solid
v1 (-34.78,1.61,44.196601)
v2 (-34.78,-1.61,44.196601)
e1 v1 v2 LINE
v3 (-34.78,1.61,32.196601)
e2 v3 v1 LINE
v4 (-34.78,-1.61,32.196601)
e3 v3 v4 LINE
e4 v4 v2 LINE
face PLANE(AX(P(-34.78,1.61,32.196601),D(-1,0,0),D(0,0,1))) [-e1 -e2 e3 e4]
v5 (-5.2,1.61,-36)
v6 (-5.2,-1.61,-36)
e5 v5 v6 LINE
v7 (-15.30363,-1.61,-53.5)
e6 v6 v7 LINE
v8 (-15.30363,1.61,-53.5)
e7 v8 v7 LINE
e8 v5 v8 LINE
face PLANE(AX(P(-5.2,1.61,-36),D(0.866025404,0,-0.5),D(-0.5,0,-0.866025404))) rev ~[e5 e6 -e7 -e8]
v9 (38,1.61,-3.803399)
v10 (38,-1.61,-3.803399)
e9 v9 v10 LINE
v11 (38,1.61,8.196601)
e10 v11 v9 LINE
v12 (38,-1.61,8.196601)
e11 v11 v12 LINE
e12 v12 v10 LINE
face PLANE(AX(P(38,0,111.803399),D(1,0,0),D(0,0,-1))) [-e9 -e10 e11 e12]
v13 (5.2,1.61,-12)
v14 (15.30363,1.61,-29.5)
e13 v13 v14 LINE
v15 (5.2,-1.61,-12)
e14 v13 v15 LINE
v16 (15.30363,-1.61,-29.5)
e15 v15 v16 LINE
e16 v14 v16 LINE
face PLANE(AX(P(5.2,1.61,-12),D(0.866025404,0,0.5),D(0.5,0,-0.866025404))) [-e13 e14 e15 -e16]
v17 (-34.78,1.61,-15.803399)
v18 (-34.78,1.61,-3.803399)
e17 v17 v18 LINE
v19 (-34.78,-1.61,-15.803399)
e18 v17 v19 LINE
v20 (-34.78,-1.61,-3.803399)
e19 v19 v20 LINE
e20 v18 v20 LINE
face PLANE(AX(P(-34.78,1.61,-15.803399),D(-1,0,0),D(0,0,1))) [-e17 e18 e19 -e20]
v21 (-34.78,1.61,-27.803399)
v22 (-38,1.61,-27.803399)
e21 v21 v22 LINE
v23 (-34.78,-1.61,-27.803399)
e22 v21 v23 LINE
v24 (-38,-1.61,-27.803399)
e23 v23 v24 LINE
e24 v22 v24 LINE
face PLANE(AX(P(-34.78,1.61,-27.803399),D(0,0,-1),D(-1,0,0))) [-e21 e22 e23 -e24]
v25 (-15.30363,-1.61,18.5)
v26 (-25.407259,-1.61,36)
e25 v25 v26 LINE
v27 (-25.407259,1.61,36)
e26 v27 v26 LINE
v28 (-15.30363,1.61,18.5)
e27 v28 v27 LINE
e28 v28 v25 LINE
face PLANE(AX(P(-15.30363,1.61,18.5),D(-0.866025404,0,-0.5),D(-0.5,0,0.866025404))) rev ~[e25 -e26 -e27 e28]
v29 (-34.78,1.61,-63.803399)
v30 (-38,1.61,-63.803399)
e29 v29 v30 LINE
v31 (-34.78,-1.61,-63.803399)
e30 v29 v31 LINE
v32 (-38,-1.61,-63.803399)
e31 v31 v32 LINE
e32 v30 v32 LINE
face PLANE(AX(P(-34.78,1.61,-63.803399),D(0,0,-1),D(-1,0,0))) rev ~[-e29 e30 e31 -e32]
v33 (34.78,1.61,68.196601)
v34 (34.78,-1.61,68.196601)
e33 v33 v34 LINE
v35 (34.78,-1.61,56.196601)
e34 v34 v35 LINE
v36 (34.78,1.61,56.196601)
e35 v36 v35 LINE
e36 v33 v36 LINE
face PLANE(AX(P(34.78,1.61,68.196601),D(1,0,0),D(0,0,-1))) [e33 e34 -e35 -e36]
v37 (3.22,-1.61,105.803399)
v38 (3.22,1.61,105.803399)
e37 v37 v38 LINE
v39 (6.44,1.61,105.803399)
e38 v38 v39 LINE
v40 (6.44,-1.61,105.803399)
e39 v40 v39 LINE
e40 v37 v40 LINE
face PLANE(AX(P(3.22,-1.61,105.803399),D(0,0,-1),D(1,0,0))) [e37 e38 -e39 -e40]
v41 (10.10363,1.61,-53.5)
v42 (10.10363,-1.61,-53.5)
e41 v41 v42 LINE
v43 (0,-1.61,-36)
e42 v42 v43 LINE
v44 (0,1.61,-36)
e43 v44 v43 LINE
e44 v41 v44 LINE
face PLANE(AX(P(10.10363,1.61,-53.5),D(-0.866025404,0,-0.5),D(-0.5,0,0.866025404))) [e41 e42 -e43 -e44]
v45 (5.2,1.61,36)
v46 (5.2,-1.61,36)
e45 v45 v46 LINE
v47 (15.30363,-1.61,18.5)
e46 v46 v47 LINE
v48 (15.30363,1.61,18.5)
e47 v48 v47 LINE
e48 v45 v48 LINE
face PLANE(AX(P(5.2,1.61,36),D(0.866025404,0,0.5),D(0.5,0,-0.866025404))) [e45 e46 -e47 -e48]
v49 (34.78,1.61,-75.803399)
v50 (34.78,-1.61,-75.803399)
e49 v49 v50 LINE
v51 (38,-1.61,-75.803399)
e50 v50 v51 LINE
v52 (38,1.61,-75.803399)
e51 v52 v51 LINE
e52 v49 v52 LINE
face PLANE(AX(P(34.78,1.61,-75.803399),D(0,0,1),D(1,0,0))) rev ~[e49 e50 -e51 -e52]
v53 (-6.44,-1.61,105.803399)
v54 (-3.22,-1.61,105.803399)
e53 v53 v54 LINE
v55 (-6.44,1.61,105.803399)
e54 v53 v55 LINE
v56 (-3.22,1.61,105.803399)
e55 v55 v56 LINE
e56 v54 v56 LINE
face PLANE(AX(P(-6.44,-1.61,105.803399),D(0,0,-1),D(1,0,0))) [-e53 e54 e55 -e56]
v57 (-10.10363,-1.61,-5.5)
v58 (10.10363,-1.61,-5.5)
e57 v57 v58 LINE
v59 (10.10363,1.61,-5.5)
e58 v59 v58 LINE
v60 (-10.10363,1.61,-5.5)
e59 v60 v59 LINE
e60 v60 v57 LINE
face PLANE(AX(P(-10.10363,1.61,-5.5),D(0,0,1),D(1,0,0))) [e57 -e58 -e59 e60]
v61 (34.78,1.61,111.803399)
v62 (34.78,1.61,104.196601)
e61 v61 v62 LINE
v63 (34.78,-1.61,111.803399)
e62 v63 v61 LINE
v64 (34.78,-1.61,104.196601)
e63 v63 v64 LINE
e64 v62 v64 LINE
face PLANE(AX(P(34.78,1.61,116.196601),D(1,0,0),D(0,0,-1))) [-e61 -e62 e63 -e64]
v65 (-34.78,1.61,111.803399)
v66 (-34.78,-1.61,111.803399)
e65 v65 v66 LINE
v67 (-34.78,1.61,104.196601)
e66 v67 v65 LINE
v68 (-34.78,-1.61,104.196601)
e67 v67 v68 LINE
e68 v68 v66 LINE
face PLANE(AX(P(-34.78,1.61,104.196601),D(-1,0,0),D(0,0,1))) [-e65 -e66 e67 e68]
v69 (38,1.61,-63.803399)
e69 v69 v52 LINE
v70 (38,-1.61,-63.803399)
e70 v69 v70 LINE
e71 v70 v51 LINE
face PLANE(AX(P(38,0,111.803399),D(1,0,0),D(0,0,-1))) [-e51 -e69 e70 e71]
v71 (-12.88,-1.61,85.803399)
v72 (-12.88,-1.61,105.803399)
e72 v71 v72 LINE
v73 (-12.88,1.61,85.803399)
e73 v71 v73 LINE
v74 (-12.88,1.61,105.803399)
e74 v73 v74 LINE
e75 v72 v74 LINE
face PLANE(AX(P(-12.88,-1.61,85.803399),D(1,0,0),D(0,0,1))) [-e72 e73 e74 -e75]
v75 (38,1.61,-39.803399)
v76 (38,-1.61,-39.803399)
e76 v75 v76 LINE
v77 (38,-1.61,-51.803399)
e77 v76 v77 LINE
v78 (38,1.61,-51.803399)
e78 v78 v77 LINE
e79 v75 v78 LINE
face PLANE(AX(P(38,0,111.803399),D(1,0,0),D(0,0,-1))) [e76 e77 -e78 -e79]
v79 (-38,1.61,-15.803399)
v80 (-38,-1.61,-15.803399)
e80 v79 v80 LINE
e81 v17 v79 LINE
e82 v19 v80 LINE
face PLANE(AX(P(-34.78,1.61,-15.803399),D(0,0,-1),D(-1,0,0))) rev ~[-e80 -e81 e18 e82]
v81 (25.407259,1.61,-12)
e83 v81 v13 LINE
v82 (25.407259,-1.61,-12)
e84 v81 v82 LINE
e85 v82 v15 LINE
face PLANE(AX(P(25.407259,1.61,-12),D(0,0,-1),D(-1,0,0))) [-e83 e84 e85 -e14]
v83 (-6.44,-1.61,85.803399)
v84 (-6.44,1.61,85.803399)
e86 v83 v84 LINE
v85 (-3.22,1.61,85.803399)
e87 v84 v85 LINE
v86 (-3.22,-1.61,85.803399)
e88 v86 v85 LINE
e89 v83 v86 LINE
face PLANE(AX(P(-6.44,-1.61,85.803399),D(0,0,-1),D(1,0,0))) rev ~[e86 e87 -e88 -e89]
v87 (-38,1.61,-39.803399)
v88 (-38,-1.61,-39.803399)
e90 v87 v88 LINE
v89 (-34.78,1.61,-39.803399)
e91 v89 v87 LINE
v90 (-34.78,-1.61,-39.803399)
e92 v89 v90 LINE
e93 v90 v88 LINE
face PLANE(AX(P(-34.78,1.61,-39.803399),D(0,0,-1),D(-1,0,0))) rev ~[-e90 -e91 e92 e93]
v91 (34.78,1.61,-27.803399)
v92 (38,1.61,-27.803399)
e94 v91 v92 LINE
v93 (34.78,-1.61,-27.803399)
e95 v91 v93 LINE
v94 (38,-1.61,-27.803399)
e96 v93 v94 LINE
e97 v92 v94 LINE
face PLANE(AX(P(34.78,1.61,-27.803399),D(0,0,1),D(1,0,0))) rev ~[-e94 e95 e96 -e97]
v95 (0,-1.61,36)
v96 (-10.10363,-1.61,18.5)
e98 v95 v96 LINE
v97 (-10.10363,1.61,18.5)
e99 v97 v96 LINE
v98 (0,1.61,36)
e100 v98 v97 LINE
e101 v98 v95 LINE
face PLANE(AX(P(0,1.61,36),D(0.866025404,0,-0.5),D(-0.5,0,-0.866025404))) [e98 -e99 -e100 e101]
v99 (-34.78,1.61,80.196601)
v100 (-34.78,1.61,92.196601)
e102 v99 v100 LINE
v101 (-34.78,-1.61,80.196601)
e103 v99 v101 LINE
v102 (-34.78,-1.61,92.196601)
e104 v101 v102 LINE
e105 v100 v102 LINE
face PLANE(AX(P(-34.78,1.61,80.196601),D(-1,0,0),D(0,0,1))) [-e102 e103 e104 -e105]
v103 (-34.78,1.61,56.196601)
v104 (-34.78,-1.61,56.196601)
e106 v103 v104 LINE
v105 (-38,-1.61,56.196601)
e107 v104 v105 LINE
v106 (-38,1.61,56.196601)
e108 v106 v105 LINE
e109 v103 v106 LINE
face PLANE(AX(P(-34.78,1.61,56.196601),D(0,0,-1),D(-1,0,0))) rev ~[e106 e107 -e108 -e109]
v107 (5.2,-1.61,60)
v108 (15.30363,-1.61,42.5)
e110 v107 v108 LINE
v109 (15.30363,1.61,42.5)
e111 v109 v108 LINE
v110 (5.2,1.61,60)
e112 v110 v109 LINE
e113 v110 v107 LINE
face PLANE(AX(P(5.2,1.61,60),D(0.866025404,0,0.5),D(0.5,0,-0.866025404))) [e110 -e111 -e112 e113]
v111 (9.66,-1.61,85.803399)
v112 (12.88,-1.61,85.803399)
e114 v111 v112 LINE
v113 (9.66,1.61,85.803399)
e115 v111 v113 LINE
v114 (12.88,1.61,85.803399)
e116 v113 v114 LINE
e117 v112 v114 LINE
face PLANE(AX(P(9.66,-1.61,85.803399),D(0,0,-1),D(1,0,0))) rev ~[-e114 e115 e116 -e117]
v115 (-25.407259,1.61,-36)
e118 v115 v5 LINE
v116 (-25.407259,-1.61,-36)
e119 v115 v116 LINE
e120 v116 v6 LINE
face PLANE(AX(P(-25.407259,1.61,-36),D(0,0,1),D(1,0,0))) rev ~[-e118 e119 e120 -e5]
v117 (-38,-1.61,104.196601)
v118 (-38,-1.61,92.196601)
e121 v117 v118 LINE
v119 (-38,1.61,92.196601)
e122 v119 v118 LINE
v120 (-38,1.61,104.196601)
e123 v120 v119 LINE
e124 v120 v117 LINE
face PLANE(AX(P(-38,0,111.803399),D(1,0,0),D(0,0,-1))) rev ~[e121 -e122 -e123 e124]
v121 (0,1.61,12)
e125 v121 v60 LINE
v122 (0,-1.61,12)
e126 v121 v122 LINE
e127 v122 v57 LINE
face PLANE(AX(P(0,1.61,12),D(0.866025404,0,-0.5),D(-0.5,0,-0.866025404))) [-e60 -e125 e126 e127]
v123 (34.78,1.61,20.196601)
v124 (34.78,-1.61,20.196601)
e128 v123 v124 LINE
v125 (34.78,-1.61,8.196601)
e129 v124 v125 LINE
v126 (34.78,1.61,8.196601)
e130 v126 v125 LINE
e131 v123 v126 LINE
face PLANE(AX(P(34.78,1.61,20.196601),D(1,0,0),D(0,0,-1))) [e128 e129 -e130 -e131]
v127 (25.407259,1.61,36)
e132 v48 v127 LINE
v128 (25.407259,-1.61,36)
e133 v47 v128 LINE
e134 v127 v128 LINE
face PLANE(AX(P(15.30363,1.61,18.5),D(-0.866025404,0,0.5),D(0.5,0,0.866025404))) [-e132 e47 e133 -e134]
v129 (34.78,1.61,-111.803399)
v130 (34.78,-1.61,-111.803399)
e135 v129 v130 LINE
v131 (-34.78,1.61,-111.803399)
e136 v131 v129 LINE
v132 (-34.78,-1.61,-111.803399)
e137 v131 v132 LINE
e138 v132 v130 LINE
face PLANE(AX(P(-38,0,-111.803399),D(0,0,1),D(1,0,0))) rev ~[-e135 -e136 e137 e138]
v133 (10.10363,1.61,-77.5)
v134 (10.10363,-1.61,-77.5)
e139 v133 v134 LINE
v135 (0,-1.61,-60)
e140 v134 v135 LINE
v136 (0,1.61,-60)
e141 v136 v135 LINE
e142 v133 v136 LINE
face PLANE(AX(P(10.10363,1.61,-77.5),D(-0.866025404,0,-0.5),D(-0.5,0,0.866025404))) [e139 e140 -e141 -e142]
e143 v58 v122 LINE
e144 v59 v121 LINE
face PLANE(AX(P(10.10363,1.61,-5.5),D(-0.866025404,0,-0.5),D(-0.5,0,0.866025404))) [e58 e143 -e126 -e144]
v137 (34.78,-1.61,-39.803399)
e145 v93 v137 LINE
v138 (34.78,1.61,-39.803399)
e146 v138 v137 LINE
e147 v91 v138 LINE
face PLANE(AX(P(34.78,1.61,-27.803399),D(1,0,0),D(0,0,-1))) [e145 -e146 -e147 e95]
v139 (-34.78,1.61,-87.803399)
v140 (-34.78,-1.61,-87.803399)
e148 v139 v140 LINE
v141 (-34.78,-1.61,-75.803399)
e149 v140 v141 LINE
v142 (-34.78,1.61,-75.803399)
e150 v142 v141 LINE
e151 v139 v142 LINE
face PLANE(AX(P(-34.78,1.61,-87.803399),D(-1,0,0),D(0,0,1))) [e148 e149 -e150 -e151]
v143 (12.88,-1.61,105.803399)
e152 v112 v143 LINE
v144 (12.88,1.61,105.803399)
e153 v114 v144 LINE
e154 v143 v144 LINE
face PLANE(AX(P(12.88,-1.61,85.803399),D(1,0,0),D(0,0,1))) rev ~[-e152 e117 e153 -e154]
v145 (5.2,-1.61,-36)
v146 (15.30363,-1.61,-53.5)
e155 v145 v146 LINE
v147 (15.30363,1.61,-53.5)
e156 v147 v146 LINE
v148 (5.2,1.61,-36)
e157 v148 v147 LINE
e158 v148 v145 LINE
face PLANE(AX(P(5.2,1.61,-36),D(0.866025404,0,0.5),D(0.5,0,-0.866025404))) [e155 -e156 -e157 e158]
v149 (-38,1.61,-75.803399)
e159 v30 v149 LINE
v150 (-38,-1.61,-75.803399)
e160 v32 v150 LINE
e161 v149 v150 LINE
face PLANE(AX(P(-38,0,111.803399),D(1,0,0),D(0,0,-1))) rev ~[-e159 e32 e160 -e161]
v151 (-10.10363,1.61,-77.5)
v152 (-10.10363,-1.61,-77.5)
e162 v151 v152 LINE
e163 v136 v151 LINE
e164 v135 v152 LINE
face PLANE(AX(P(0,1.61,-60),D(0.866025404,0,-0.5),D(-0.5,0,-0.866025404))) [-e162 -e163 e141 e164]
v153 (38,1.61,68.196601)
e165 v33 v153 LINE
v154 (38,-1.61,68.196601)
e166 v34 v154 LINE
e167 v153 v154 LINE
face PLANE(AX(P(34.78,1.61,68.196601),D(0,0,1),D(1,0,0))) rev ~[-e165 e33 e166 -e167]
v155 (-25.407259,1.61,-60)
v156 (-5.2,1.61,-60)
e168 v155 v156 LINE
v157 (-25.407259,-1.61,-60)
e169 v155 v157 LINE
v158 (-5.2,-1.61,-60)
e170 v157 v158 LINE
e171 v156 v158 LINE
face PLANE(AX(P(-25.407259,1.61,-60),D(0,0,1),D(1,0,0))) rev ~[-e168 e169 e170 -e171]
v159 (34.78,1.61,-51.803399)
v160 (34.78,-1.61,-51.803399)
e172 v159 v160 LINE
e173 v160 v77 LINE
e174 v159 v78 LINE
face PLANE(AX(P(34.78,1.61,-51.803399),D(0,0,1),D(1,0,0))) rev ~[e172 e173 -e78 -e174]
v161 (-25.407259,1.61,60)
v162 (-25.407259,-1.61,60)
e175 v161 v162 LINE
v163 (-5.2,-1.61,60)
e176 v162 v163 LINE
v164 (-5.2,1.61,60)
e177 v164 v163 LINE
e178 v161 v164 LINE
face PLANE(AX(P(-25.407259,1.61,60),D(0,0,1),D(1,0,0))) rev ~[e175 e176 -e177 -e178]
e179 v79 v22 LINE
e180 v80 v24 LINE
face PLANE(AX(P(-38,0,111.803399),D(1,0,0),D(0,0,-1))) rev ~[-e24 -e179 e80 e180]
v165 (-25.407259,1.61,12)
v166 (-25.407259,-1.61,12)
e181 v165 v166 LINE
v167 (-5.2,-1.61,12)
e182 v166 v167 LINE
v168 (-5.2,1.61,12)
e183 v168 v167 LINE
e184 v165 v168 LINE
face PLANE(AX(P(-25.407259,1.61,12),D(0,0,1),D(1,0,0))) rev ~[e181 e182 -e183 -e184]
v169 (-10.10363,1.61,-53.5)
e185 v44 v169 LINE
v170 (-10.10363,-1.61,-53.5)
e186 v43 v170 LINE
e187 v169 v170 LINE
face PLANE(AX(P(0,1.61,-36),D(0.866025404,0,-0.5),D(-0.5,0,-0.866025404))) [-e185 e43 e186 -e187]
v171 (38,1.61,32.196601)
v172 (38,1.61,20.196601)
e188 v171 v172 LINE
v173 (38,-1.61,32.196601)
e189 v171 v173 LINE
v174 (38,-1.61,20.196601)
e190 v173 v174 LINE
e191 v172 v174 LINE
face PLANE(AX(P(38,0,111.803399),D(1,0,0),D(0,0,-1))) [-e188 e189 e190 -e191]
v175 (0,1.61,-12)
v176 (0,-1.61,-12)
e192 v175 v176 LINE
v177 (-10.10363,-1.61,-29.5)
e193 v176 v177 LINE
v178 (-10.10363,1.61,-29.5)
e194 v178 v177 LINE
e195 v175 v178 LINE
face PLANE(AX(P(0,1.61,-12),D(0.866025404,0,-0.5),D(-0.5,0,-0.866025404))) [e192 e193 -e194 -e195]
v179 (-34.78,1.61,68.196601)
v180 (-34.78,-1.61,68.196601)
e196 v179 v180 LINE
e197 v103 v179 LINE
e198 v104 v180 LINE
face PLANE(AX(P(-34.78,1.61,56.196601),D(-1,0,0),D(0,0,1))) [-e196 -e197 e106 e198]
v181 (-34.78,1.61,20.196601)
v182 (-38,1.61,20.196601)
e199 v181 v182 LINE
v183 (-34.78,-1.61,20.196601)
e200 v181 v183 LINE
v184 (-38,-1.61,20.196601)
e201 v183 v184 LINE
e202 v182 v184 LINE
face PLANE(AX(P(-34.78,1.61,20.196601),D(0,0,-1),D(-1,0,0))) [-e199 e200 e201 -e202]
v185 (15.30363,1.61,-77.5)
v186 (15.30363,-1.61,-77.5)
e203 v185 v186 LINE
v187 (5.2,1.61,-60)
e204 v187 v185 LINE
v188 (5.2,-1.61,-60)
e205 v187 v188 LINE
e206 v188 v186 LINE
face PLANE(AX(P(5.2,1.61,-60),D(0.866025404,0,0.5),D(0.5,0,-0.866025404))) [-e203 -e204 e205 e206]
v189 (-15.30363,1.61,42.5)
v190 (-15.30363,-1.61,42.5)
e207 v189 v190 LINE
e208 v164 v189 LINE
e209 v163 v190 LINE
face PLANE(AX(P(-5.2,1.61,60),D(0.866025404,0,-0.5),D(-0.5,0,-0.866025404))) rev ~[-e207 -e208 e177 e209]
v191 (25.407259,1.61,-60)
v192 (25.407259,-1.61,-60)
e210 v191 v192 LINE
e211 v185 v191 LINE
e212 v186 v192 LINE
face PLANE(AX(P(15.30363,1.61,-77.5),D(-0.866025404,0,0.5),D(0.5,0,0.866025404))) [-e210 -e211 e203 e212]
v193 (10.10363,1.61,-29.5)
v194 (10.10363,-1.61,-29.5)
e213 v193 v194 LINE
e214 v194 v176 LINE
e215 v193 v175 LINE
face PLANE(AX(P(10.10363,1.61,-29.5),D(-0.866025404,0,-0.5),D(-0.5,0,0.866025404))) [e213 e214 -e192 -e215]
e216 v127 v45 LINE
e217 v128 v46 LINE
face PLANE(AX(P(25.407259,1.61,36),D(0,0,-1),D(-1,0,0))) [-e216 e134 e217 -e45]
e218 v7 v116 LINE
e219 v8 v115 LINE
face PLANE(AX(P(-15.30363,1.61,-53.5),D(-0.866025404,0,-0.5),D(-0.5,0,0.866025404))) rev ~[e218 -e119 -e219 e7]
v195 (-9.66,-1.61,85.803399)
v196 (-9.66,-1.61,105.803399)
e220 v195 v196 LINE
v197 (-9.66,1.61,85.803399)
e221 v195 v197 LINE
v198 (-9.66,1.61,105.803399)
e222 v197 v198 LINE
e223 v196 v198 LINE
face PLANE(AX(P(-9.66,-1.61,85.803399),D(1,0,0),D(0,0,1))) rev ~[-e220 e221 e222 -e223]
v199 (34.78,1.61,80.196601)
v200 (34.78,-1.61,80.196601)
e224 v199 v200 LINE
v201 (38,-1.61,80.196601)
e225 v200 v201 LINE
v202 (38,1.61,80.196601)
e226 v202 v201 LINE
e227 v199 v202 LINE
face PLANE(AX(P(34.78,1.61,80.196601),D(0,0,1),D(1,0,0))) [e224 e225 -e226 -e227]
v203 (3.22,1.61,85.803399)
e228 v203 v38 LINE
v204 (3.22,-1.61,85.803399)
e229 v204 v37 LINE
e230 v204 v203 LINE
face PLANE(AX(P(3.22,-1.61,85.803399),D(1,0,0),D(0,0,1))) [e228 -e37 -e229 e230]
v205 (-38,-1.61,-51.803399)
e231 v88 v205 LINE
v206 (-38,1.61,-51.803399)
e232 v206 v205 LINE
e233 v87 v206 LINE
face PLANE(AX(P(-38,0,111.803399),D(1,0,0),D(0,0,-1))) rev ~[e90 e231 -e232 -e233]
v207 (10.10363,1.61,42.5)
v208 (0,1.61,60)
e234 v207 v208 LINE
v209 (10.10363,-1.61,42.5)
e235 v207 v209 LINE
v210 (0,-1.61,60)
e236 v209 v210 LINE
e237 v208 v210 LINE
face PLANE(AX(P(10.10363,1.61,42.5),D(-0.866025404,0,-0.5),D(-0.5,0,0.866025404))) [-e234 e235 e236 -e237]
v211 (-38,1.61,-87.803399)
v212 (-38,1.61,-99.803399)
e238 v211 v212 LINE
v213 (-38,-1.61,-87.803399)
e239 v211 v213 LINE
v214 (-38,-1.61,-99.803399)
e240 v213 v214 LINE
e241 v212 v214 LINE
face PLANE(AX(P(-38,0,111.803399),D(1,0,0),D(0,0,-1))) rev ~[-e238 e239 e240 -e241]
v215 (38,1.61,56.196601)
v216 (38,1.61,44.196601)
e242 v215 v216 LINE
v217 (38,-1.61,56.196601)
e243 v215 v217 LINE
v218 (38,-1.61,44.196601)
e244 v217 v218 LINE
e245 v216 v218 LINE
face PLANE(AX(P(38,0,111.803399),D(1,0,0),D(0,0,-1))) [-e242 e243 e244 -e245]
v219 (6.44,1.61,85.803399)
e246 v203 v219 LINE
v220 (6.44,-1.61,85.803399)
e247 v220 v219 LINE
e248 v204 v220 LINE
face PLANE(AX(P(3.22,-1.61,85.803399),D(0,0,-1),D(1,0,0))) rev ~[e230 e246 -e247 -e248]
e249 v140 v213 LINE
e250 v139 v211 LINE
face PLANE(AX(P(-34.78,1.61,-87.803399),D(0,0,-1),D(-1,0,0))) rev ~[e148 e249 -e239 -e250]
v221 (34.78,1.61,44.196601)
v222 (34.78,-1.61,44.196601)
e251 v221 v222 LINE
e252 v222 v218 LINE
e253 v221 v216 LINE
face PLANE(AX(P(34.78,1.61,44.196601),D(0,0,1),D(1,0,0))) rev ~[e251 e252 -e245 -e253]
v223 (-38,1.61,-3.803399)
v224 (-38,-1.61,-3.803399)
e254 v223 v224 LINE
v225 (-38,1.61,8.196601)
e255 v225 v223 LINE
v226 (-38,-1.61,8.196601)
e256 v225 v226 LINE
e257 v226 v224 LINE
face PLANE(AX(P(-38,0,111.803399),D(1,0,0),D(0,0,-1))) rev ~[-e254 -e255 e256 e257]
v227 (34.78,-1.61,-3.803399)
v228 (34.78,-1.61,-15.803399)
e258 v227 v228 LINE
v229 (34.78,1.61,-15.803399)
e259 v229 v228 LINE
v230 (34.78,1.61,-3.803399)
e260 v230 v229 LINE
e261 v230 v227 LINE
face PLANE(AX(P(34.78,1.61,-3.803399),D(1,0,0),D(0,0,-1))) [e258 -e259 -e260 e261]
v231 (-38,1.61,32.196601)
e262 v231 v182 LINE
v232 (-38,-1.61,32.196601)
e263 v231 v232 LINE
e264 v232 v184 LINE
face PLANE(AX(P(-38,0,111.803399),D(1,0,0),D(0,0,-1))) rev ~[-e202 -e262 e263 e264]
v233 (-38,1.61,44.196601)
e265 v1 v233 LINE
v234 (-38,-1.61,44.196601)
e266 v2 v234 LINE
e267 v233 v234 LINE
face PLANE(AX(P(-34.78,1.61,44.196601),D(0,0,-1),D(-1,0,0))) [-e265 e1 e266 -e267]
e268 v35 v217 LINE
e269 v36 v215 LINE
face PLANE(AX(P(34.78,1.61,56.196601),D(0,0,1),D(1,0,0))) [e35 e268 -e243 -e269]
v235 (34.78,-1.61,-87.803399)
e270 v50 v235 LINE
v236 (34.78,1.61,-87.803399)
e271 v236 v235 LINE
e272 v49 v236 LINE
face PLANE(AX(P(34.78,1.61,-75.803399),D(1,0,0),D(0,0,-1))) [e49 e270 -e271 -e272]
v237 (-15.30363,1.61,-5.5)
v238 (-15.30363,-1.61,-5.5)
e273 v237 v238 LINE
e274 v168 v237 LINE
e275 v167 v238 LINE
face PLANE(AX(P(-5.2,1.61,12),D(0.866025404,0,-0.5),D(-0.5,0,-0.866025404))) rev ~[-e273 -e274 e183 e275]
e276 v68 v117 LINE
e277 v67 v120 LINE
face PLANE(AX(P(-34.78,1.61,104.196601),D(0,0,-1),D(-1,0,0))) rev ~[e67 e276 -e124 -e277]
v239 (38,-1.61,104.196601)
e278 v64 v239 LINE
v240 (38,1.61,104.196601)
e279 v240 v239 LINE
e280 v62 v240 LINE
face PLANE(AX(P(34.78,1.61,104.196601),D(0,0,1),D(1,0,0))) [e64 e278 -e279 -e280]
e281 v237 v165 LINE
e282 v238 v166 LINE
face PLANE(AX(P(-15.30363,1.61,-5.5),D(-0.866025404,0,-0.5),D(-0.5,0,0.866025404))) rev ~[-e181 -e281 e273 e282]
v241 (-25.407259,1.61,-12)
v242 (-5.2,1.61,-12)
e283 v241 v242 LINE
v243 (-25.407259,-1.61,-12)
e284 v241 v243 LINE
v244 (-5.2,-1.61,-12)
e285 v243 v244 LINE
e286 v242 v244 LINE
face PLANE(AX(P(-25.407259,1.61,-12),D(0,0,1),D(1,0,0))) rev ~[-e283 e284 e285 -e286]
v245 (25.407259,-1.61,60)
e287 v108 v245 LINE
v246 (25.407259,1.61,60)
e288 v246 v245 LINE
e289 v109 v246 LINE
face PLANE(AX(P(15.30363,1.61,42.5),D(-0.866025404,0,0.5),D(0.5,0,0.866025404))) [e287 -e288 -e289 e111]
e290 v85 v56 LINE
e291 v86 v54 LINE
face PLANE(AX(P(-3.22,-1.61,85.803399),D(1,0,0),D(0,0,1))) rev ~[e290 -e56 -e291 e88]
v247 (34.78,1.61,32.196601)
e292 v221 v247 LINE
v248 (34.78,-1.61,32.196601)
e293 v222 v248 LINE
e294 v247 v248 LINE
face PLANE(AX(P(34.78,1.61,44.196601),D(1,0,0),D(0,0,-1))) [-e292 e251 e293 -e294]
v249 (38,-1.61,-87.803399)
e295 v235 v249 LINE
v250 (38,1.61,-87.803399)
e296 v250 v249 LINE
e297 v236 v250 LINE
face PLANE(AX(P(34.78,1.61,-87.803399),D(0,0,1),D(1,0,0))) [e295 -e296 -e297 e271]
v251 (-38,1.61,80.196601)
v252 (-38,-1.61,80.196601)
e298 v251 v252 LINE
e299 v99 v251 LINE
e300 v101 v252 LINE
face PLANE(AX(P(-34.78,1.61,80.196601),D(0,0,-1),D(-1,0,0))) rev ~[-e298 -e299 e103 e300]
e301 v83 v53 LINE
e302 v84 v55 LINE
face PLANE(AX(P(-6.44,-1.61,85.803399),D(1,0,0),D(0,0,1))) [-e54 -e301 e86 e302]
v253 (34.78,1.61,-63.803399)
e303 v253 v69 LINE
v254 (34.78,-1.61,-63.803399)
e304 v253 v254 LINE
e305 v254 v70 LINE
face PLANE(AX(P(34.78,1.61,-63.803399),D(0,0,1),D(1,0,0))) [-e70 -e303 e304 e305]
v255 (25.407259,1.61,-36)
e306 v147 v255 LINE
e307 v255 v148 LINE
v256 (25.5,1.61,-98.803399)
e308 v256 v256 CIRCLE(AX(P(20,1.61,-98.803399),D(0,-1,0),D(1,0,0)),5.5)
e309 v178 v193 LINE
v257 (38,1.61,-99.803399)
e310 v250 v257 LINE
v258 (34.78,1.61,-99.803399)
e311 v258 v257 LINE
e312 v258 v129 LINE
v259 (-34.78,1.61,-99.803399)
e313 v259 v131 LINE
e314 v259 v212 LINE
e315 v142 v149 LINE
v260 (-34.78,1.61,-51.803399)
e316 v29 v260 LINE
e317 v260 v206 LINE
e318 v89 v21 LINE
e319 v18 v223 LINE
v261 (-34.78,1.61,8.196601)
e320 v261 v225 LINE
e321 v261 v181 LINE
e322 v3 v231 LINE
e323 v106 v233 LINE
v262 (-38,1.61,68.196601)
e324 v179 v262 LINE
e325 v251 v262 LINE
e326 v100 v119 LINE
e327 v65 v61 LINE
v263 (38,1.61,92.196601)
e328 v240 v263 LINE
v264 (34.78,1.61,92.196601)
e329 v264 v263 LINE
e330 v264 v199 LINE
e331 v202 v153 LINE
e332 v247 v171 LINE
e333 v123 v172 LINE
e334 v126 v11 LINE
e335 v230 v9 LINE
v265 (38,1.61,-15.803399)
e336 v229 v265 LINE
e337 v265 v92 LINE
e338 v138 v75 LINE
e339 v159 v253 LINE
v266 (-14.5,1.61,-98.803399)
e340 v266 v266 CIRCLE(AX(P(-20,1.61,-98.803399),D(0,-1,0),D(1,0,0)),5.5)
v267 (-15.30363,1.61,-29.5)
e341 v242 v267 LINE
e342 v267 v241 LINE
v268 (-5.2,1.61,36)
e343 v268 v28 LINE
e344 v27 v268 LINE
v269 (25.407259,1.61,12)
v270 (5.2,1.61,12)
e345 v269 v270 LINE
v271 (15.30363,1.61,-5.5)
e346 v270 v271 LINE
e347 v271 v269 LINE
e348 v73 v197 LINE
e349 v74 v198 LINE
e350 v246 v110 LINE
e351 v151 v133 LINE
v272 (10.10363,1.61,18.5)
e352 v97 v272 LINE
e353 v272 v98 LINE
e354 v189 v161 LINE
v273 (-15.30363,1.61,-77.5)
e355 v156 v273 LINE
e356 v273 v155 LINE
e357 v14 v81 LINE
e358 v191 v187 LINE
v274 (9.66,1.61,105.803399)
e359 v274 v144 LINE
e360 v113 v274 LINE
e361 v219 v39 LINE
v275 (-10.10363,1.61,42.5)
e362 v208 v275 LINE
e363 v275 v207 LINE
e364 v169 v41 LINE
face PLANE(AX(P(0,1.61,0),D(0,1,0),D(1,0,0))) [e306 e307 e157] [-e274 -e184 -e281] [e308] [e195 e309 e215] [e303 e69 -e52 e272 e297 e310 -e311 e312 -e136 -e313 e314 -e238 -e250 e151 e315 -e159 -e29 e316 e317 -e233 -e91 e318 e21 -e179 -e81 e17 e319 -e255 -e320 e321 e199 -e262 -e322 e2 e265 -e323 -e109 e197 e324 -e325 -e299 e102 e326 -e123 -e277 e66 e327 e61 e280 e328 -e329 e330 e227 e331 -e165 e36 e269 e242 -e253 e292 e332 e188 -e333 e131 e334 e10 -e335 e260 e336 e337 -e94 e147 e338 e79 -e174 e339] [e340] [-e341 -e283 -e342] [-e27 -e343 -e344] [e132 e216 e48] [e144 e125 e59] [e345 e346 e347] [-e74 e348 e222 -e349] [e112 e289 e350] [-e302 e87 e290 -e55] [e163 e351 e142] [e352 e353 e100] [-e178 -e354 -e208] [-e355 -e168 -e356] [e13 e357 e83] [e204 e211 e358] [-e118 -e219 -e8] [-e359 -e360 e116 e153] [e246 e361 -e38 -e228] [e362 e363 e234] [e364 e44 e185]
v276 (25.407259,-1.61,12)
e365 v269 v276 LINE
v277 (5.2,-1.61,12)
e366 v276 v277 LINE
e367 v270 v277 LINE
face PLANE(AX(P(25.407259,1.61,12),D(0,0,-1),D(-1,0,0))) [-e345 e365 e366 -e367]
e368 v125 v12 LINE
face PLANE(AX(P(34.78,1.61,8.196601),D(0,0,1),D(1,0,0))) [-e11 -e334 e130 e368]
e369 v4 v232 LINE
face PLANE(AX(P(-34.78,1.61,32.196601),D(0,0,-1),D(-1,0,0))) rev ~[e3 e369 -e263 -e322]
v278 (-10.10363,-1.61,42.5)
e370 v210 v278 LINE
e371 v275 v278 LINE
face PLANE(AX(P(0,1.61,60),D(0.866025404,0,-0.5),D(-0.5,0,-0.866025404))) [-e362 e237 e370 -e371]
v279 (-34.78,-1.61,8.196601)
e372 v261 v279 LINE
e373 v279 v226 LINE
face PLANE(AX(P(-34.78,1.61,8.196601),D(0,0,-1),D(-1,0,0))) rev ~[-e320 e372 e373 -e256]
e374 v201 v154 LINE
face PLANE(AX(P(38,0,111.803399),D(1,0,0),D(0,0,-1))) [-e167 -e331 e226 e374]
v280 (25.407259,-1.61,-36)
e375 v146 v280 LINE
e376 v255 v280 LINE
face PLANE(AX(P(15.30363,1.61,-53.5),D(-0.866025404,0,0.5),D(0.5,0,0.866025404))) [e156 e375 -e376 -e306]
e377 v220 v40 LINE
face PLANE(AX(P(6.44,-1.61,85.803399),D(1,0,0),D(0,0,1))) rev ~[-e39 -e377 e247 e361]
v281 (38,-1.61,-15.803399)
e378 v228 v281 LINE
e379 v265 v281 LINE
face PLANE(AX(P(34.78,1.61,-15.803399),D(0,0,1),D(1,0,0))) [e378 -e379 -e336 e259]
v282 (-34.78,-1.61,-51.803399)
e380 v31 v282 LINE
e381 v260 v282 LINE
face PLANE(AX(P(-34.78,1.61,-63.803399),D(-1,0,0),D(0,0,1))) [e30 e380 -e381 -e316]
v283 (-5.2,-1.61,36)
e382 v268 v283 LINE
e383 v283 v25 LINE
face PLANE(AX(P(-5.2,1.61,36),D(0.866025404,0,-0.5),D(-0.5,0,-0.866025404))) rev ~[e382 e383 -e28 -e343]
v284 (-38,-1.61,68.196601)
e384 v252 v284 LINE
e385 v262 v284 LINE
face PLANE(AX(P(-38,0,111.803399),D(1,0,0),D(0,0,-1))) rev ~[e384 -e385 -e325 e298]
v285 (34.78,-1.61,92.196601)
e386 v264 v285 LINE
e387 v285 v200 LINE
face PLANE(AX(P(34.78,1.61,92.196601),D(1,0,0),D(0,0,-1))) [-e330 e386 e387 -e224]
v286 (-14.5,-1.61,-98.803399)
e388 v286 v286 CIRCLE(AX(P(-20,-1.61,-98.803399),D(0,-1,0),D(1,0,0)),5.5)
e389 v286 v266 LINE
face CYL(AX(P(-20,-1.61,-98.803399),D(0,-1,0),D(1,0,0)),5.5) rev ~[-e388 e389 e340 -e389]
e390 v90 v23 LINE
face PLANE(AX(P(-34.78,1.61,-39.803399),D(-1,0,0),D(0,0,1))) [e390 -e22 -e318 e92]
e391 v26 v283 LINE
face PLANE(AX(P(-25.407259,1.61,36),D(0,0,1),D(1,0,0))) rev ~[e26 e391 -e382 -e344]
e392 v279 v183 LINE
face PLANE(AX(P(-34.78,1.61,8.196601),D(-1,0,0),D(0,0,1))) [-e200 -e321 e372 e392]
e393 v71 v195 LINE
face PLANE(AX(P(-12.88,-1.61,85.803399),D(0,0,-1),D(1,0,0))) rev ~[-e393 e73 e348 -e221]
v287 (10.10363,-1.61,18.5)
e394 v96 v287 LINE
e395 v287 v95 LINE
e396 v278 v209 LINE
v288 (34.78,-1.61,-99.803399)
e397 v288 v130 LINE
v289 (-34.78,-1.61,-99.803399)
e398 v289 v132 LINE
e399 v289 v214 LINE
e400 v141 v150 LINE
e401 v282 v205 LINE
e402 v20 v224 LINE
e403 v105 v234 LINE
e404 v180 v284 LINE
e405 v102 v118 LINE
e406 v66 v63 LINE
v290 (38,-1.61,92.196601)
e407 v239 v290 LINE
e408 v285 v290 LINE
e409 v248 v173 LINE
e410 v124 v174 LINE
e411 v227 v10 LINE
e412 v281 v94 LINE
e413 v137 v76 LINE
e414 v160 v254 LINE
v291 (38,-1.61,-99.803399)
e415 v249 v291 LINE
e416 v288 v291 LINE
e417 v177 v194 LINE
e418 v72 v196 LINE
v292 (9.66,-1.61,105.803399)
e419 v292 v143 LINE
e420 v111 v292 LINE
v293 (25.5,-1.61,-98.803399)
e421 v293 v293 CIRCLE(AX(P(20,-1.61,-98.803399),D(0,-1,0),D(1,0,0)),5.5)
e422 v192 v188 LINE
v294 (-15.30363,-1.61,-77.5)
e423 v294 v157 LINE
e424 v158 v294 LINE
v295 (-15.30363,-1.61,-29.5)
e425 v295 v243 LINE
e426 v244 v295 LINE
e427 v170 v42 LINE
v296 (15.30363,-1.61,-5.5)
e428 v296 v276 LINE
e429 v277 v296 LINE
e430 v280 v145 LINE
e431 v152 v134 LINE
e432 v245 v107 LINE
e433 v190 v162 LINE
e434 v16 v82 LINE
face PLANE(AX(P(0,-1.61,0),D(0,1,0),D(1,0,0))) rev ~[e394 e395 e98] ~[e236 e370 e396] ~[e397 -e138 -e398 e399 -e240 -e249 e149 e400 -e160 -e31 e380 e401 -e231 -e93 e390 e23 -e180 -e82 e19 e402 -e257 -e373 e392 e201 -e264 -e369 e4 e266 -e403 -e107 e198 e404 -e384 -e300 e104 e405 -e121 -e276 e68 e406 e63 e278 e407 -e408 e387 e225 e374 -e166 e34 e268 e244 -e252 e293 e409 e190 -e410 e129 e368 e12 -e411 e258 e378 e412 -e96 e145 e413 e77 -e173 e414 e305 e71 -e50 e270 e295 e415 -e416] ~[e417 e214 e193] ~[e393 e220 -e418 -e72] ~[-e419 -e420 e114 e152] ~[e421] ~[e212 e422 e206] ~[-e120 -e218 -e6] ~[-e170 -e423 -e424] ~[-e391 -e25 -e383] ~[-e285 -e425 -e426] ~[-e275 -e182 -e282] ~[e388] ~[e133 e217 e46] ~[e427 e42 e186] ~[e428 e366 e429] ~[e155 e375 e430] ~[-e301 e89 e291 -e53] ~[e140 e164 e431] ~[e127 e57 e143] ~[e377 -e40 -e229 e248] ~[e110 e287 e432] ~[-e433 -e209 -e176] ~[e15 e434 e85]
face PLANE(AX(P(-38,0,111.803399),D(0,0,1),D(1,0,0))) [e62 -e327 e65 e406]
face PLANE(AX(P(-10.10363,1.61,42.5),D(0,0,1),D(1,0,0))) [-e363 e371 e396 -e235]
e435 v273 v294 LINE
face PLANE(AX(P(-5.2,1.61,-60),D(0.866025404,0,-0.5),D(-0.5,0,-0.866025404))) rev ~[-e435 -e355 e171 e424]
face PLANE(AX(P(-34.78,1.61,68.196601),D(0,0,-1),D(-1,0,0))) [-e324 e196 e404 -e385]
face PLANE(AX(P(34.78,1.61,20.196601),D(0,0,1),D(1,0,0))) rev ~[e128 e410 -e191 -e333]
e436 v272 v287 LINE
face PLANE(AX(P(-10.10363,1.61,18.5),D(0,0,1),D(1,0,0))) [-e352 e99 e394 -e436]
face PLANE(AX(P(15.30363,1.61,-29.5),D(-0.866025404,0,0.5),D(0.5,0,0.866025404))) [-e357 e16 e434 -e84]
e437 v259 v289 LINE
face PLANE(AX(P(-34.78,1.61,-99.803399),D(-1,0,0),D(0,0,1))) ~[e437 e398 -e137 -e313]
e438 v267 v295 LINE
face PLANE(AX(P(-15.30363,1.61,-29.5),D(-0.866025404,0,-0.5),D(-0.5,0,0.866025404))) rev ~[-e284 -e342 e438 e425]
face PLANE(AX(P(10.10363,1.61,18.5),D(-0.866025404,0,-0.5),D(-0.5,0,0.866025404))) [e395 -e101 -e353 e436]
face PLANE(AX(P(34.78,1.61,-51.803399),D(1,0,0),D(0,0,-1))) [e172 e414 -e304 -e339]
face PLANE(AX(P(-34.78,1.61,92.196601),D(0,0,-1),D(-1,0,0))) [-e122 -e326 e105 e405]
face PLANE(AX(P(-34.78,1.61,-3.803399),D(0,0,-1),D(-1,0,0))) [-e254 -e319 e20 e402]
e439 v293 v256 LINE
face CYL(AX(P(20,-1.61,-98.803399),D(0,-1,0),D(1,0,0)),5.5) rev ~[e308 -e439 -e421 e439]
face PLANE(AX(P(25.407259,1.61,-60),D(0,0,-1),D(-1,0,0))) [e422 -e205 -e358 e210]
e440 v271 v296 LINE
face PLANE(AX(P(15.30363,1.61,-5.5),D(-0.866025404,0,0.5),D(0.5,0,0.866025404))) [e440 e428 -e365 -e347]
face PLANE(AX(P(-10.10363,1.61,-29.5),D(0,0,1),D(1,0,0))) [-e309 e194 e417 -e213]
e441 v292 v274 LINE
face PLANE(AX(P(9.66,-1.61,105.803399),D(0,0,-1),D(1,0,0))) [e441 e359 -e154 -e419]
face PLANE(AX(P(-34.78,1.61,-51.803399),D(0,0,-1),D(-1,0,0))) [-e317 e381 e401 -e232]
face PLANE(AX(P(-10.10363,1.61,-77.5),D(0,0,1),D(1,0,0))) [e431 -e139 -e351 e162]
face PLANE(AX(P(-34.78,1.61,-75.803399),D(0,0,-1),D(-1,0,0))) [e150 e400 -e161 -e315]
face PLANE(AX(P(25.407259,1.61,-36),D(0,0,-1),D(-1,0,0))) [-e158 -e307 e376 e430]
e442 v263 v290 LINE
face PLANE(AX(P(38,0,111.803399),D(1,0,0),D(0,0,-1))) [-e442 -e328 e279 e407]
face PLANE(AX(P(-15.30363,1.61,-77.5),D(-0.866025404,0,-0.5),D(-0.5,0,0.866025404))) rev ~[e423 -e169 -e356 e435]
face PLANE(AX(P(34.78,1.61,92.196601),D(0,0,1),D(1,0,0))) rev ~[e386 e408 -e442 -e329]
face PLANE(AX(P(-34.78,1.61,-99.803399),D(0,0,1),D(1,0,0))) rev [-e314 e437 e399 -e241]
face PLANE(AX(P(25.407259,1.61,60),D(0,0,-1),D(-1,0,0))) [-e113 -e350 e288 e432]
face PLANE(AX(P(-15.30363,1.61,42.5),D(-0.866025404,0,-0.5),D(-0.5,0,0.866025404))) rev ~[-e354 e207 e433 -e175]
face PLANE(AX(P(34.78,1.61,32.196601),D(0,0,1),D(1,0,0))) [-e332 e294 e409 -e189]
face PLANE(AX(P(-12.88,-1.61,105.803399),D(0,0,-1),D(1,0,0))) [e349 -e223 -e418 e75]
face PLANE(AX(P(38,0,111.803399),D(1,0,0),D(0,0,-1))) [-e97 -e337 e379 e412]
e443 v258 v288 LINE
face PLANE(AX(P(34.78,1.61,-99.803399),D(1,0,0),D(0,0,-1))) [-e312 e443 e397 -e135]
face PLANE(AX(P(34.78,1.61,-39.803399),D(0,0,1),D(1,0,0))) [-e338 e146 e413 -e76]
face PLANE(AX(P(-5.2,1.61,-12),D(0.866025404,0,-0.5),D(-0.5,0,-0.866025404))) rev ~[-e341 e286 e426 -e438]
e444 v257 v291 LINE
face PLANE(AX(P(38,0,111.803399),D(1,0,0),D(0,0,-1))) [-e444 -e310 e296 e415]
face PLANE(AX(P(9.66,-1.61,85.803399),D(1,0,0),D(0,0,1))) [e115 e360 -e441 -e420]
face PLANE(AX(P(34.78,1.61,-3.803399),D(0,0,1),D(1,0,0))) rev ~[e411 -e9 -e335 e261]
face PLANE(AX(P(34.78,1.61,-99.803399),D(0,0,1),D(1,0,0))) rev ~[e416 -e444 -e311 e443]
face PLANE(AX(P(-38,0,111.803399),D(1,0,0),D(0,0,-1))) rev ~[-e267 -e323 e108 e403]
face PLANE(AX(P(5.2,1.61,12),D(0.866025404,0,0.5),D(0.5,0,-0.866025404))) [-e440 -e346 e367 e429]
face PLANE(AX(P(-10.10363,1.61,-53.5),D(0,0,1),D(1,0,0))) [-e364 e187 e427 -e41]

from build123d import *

# Parameters (mm, degrees)
SKETCH1_W               = 76
SKETCH1_H               = 223.60679775
BOSS_EXTRUDE1_DEPTH     = 1.61
SKETCH2_W               = 3.22
SKETCH2_H               = 12
CUT_EXTRUDE1_DEPTH      = 3.22
LPATTERN1_COUNT         = 10
LPATTERN1_PITCH         = 24
MIRROR1_COPY_1_SKETCH_W = 3.22
MIRROR1_COPY_1_SKETCH_H = 12
MIRROR1_COPY_1_DEPTH    = 3.22
MIRROR1_COPY_2_SKETCH_W = 3.22
MIRROR1_COPY_2_SKETCH_H = 12
MIRROR1_COPY_2_DEPTH    = 3.22
MIRROR1_COPY_3_SKETCH_W = 3.22
MIRROR1_COPY_3_SKETCH_H = 12
MIRROR1_COPY_3_DEPTH    = 3.22
MIRROR1_COPY_4_SKETCH_W = 3.22
MIRROR1_COPY_4_SKETCH_H = 12
MIRROR1_COPY_4_DEPTH    = 3.22
MIRROR1_COPY_5_SKETCH_W = 3.22
MIRROR1_COPY_5_SKETCH_H = 12
MIRROR1_COPY_5_DEPTH    = 3.22
MIRROR1_COPY_6_SKETCH_W = 3.22
MIRROR1_COPY_6_SKETCH_H = 12
MIRROR1_COPY_6_DEPTH    = 3.22
MIRROR1_COPY_7_SKETCH_W = 3.22
MIRROR1_COPY_7_SKETCH_H = 12
MIRROR1_COPY_7_DEPTH    = 3.22
MIRROR1_COPY_8_SKETCH_W = 3.22
MIRROR1_COPY_8_SKETCH_H = 12
MIRROR1_COPY_8_DEPTH    = 3.22
MIRROR1_COPY_9_SKETCH_W = 3.22
MIRROR1_COPY_9_SKETCH_H = 12
MIRROR1_COPY_9_DEPTH    = 3.22
SKETCH4_R               = 5.5
CUT_EXTRUDE2_DEPTH      = 10
CUT_EXTRUDE5_REACH      = 5.22
SKETCH7_W               = 3.22
SKETCH7_H               = 20
CUT_EXTRUDE7_DEPTH      = 3.22
LPATTERN2_COUNT         = 6
LPATTERN2_PITCH         = 24


with BuildPart() as part:
    # Sketch1 → Boss-Extrude1 (new body, symmetric)
    with BuildSketch(Plane(origin=(0, 0, 0), x_dir=(1, 0, 0), z_dir=(0, 1, 0))):
        Rectangle(SKETCH1_W, SKETCH1_H)
    extrude(amount=BOSS_EXTRUDE1_DEPTH, both=True)

    # Sketch2 → Cut-Extrude1 (cut)
    with BuildSketch(Plane(origin=(0, 1.61, 0), x_dir=(1, 0, 0), z_dir=(0, 1, 0))):
        with Locations((36.39, 105.803398875)):
            Rectangle(SKETCH2_W, SKETCH2_H)
    cut_extrude1 = extrude(amount=-CUT_EXTRUDE1_DEPTH, mode=Mode.SUBTRACT)

    # LPattern1: Cut-Extrude1 ×10
    with Locations(*[(0, 0, i * LPATTERN1_PITCH) for i in range(1, LPATTERN1_COUNT)]):
        add(cut_extrude1, mode=Mode.SUBTRACT)

    # Mirror1: Cut-Extrude1 across plane
    add(cut_extrude1.mirror(Plane(origin=(0, 0, 0), x_dir=(0, 0, 1), z_dir=(1, 0, 0))), mode=Mode.SUBTRACT)

    # Mirror1 copy 1 sketch → Mirror1 copy 1 (cut)
    with BuildSketch(Plane(origin=(0, 1.61, 24), x_dir=(-1, 0, 0), z_dir=(0, 1, 0))):
        with Locations((36.39, -105.803398875)):
            Rectangle(MIRROR1_COPY_1_SKETCH_W, MIRROR1_COPY_1_SKETCH_H)
    extrude(amount=-MIRROR1_COPY_1_DEPTH, mode=Mode.SUBTRACT)

    # Mirror1 copy 2 sketch → Mirror1 copy 2 (cut)
    with BuildSketch(Plane(origin=(0, 1.61, 48), x_dir=(-1, 0, 0), z_dir=(0, 1, 0))):
        with Locations((36.39, -105.803398875)):
            Rectangle(MIRROR1_COPY_2_SKETCH_W, MIRROR1_COPY_2_SKETCH_H)
    extrude(amount=-MIRROR1_COPY_2_DEPTH, mode=Mode.SUBTRACT)

    # Mirror1 copy 3 sketch → Mirror1 copy 3 (cut)
    with BuildSketch(Plane(origin=(0, 1.61, 72), x_dir=(-1, 0, 0), z_dir=(0, 1, 0))):
        with Locations((36.39, -105.803398875)):
            Rectangle(MIRROR1_COPY_3_SKETCH_W, MIRROR1_COPY_3_SKETCH_H)
    extrude(amount=-MIRROR1_COPY_3_DEPTH, mode=Mode.SUBTRACT)

    # Mirror1 copy 4 sketch → Mirror1 copy 4 (cut)
    with BuildSketch(Plane(origin=(0, 1.61, 96), x_dir=(-1, 0, 0), z_dir=(0, 1, 0))):
        with Locations((36.39, -105.803398875)):
            Rectangle(MIRROR1_COPY_4_SKETCH_W, MIRROR1_COPY_4_SKETCH_H)
    extrude(amount=-MIRROR1_COPY_4_DEPTH, mode=Mode.SUBTRACT)

    # Mirror1 copy 5 sketch → Mirror1 copy 5 (cut)
    with BuildSketch(Plane(origin=(0, 1.61, 120), x_dir=(-1, 0, 0), z_dir=(0, 1, 0))):
        with Locations((36.39, -105.803398875)):
            Rectangle(MIRROR1_COPY_5_SKETCH_W, MIRROR1_COPY_5_SKETCH_H)
    extrude(amount=-MIRROR1_COPY_5_DEPTH, mode=Mode.SUBTRACT)

    # Mirror1 copy 6 sketch → Mirror1 copy 6 (cut)
    with BuildSketch(Plane(origin=(0, 1.61, 144), x_dir=(-1, 0, 0), z_dir=(0, 1, 0))):
        with Locations((36.39, -105.803398875)):
            Rectangle(MIRROR1_COPY_6_SKETCH_W, MIRROR1_COPY_6_SKETCH_H)
    extrude(amount=-MIRROR1_COPY_6_DEPTH, mode=Mode.SUBTRACT)

    # Mirror1 copy 7 sketch → Mirror1 copy 7 (cut)
    with BuildSketch(Plane(origin=(0, 1.61, 168), x_dir=(-1, 0, 0), z_dir=(0, 1, 0))):
        with Locations((36.39, -105.803398875)):
            Rectangle(MIRROR1_COPY_7_SKETCH_W, MIRROR1_COPY_7_SKETCH_H)
    extrude(amount=-MIRROR1_COPY_7_DEPTH, mode=Mode.SUBTRACT)

    # Mirror1 copy 8 sketch → Mirror1 copy 8 (cut)
    with BuildSketch(Plane(origin=(0, 1.61, 192), x_dir=(-1, 0, 0), z_dir=(0, 1, 0))):
        with Locations((36.39, -105.803398875)):
            Rectangle(MIRROR1_COPY_8_SKETCH_W, MIRROR1_COPY_8_SKETCH_H)
    extrude(amount=-MIRROR1_COPY_8_DEPTH, mode=Mode.SUBTRACT)

    # Mirror1 copy 9 sketch → Mirror1 copy 9 (cut)
    with BuildSketch(Plane(origin=(0, 1.61, 216), x_dir=(-1, 0, 0), z_dir=(0, 1, 0))):
        with Locations((36.39, -105.803398875)):
            Rectangle(MIRROR1_COPY_9_SKETCH_W, MIRROR1_COPY_9_SKETCH_H)
    extrude(amount=-MIRROR1_COPY_9_DEPTH, mode=Mode.SUBTRACT)

    # Sketch4 → Cut-Extrude2 (cut)
    with BuildSketch(Plane.XZ.offset(1.61)):
        with Locations((-20, -98.803398875)):
            Circle(SKETCH4_R)
        with Locations((20, -98.803398875)):
            Circle(SKETCH4_R)
    extrude(amount=-CUT_EXTRUDE2_DEPTH, mode=Mode.SUBTRACT)

    # Sketch7 → Cut-Extrude5 (cut, up to next)
    with BuildSketch(Plane.XZ.offset(1.61), mode=Mode.PRIVATE) as cut_extrude5_sk1:
        with Locations((-11.27, 95.803398875)):
            Rectangle(SKETCH7_W, SKETCH7_H)
    cut_extrude5_tool1 = extrude(cut_extrude5_sk1.sketch, amount=-CUT_EXTRUDE5_REACH, mode=Mode.PRIVATE) & part.part
    add(cut_extrude5_tool1.solids().sort_by_distance((-11.27, -1.61, 95.803399))[0], mode=Mode.SUBTRACT)
    # Sketch7 → Cut-Extrude5 (cut, up to next)
    with BuildSketch(Plane.XZ.offset(1.61), mode=Mode.PRIVATE) as cut_extrude5_sk2:
        with Locations((-4.83, 95.803398875)):
            Rectangle(SKETCH7_W, SKETCH7_H)
    cut_extrude5_tool2 = extrude(cut_extrude5_sk2.sketch, amount=-CUT_EXTRUDE5_REACH, mode=Mode.PRIVATE) & part.part
    add(cut_extrude5_tool2.solids().sort_by_distance((-4.83, -1.61, 95.803399))[0], mode=Mode.SUBTRACT)
    # Sketch7 → Cut-Extrude5 (cut, up to next)
    with BuildSketch(Plane.XZ.offset(1.61), mode=Mode.PRIVATE) as cut_extrude5_sk3:
        with Locations((4.83, 95.803398875)):
            Rectangle(SKETCH7_W, SKETCH7_H)
    cut_extrude5_tool3 = extrude(cut_extrude5_sk3.sketch, amount=-CUT_EXTRUDE5_REACH, mode=Mode.PRIVATE) & part.part
    add(cut_extrude5_tool3.solids().sort_by_distance((4.83, -1.61, 95.803399))[0], mode=Mode.SUBTRACT)
    # Sketch7 → Cut-Extrude5 (cut, up to next)
    with BuildSketch(Plane.XZ.offset(1.61), mode=Mode.PRIVATE) as cut_extrude5_sk4:
        with Locations((11.27, 95.803398875)):
            Rectangle(SKETCH7_W, SKETCH7_H)
    cut_extrude5_tool4 = extrude(cut_extrude5_sk4.sketch, amount=-CUT_EXTRUDE5_REACH, mode=Mode.PRIVATE) & part.part
    add(cut_extrude5_tool4.solids().sort_by_distance((11.27, -1.61, 95.803399))[0], mode=Mode.SUBTRACT)

    # Sketch8 → Cut-Extrude7 (cut)
    with BuildSketch(Plane(origin=(0, 1.61, 0), x_dir=(1, 0, 0), z_dir=(0, 1, 0))):
        Polygon((-5.2, 60), (-15.303629711, 77.5), (-25.407259422, 60), align=None)
        Polygon((-10.103629711, 77.5), (10.103629711, 77.5), (0, 60), align=None)
        Polygon((15.303629711, 77.5), (25.407259422, 60), (5.2, 60), align=None)
    cut_extrude7 = extrude(amount=-CUT_EXTRUDE7_DEPTH, mode=Mode.SUBTRACT)

    # LPattern2: Cut-Extrude7 ×6
    with Locations(*[(0, 0, i * LPATTERN2_PITCH) for i in range(1, LPATTERN2_COUNT)]):
        add(cut_extrude7, mode=Mode.SUBTRACT)


solid = part.part
